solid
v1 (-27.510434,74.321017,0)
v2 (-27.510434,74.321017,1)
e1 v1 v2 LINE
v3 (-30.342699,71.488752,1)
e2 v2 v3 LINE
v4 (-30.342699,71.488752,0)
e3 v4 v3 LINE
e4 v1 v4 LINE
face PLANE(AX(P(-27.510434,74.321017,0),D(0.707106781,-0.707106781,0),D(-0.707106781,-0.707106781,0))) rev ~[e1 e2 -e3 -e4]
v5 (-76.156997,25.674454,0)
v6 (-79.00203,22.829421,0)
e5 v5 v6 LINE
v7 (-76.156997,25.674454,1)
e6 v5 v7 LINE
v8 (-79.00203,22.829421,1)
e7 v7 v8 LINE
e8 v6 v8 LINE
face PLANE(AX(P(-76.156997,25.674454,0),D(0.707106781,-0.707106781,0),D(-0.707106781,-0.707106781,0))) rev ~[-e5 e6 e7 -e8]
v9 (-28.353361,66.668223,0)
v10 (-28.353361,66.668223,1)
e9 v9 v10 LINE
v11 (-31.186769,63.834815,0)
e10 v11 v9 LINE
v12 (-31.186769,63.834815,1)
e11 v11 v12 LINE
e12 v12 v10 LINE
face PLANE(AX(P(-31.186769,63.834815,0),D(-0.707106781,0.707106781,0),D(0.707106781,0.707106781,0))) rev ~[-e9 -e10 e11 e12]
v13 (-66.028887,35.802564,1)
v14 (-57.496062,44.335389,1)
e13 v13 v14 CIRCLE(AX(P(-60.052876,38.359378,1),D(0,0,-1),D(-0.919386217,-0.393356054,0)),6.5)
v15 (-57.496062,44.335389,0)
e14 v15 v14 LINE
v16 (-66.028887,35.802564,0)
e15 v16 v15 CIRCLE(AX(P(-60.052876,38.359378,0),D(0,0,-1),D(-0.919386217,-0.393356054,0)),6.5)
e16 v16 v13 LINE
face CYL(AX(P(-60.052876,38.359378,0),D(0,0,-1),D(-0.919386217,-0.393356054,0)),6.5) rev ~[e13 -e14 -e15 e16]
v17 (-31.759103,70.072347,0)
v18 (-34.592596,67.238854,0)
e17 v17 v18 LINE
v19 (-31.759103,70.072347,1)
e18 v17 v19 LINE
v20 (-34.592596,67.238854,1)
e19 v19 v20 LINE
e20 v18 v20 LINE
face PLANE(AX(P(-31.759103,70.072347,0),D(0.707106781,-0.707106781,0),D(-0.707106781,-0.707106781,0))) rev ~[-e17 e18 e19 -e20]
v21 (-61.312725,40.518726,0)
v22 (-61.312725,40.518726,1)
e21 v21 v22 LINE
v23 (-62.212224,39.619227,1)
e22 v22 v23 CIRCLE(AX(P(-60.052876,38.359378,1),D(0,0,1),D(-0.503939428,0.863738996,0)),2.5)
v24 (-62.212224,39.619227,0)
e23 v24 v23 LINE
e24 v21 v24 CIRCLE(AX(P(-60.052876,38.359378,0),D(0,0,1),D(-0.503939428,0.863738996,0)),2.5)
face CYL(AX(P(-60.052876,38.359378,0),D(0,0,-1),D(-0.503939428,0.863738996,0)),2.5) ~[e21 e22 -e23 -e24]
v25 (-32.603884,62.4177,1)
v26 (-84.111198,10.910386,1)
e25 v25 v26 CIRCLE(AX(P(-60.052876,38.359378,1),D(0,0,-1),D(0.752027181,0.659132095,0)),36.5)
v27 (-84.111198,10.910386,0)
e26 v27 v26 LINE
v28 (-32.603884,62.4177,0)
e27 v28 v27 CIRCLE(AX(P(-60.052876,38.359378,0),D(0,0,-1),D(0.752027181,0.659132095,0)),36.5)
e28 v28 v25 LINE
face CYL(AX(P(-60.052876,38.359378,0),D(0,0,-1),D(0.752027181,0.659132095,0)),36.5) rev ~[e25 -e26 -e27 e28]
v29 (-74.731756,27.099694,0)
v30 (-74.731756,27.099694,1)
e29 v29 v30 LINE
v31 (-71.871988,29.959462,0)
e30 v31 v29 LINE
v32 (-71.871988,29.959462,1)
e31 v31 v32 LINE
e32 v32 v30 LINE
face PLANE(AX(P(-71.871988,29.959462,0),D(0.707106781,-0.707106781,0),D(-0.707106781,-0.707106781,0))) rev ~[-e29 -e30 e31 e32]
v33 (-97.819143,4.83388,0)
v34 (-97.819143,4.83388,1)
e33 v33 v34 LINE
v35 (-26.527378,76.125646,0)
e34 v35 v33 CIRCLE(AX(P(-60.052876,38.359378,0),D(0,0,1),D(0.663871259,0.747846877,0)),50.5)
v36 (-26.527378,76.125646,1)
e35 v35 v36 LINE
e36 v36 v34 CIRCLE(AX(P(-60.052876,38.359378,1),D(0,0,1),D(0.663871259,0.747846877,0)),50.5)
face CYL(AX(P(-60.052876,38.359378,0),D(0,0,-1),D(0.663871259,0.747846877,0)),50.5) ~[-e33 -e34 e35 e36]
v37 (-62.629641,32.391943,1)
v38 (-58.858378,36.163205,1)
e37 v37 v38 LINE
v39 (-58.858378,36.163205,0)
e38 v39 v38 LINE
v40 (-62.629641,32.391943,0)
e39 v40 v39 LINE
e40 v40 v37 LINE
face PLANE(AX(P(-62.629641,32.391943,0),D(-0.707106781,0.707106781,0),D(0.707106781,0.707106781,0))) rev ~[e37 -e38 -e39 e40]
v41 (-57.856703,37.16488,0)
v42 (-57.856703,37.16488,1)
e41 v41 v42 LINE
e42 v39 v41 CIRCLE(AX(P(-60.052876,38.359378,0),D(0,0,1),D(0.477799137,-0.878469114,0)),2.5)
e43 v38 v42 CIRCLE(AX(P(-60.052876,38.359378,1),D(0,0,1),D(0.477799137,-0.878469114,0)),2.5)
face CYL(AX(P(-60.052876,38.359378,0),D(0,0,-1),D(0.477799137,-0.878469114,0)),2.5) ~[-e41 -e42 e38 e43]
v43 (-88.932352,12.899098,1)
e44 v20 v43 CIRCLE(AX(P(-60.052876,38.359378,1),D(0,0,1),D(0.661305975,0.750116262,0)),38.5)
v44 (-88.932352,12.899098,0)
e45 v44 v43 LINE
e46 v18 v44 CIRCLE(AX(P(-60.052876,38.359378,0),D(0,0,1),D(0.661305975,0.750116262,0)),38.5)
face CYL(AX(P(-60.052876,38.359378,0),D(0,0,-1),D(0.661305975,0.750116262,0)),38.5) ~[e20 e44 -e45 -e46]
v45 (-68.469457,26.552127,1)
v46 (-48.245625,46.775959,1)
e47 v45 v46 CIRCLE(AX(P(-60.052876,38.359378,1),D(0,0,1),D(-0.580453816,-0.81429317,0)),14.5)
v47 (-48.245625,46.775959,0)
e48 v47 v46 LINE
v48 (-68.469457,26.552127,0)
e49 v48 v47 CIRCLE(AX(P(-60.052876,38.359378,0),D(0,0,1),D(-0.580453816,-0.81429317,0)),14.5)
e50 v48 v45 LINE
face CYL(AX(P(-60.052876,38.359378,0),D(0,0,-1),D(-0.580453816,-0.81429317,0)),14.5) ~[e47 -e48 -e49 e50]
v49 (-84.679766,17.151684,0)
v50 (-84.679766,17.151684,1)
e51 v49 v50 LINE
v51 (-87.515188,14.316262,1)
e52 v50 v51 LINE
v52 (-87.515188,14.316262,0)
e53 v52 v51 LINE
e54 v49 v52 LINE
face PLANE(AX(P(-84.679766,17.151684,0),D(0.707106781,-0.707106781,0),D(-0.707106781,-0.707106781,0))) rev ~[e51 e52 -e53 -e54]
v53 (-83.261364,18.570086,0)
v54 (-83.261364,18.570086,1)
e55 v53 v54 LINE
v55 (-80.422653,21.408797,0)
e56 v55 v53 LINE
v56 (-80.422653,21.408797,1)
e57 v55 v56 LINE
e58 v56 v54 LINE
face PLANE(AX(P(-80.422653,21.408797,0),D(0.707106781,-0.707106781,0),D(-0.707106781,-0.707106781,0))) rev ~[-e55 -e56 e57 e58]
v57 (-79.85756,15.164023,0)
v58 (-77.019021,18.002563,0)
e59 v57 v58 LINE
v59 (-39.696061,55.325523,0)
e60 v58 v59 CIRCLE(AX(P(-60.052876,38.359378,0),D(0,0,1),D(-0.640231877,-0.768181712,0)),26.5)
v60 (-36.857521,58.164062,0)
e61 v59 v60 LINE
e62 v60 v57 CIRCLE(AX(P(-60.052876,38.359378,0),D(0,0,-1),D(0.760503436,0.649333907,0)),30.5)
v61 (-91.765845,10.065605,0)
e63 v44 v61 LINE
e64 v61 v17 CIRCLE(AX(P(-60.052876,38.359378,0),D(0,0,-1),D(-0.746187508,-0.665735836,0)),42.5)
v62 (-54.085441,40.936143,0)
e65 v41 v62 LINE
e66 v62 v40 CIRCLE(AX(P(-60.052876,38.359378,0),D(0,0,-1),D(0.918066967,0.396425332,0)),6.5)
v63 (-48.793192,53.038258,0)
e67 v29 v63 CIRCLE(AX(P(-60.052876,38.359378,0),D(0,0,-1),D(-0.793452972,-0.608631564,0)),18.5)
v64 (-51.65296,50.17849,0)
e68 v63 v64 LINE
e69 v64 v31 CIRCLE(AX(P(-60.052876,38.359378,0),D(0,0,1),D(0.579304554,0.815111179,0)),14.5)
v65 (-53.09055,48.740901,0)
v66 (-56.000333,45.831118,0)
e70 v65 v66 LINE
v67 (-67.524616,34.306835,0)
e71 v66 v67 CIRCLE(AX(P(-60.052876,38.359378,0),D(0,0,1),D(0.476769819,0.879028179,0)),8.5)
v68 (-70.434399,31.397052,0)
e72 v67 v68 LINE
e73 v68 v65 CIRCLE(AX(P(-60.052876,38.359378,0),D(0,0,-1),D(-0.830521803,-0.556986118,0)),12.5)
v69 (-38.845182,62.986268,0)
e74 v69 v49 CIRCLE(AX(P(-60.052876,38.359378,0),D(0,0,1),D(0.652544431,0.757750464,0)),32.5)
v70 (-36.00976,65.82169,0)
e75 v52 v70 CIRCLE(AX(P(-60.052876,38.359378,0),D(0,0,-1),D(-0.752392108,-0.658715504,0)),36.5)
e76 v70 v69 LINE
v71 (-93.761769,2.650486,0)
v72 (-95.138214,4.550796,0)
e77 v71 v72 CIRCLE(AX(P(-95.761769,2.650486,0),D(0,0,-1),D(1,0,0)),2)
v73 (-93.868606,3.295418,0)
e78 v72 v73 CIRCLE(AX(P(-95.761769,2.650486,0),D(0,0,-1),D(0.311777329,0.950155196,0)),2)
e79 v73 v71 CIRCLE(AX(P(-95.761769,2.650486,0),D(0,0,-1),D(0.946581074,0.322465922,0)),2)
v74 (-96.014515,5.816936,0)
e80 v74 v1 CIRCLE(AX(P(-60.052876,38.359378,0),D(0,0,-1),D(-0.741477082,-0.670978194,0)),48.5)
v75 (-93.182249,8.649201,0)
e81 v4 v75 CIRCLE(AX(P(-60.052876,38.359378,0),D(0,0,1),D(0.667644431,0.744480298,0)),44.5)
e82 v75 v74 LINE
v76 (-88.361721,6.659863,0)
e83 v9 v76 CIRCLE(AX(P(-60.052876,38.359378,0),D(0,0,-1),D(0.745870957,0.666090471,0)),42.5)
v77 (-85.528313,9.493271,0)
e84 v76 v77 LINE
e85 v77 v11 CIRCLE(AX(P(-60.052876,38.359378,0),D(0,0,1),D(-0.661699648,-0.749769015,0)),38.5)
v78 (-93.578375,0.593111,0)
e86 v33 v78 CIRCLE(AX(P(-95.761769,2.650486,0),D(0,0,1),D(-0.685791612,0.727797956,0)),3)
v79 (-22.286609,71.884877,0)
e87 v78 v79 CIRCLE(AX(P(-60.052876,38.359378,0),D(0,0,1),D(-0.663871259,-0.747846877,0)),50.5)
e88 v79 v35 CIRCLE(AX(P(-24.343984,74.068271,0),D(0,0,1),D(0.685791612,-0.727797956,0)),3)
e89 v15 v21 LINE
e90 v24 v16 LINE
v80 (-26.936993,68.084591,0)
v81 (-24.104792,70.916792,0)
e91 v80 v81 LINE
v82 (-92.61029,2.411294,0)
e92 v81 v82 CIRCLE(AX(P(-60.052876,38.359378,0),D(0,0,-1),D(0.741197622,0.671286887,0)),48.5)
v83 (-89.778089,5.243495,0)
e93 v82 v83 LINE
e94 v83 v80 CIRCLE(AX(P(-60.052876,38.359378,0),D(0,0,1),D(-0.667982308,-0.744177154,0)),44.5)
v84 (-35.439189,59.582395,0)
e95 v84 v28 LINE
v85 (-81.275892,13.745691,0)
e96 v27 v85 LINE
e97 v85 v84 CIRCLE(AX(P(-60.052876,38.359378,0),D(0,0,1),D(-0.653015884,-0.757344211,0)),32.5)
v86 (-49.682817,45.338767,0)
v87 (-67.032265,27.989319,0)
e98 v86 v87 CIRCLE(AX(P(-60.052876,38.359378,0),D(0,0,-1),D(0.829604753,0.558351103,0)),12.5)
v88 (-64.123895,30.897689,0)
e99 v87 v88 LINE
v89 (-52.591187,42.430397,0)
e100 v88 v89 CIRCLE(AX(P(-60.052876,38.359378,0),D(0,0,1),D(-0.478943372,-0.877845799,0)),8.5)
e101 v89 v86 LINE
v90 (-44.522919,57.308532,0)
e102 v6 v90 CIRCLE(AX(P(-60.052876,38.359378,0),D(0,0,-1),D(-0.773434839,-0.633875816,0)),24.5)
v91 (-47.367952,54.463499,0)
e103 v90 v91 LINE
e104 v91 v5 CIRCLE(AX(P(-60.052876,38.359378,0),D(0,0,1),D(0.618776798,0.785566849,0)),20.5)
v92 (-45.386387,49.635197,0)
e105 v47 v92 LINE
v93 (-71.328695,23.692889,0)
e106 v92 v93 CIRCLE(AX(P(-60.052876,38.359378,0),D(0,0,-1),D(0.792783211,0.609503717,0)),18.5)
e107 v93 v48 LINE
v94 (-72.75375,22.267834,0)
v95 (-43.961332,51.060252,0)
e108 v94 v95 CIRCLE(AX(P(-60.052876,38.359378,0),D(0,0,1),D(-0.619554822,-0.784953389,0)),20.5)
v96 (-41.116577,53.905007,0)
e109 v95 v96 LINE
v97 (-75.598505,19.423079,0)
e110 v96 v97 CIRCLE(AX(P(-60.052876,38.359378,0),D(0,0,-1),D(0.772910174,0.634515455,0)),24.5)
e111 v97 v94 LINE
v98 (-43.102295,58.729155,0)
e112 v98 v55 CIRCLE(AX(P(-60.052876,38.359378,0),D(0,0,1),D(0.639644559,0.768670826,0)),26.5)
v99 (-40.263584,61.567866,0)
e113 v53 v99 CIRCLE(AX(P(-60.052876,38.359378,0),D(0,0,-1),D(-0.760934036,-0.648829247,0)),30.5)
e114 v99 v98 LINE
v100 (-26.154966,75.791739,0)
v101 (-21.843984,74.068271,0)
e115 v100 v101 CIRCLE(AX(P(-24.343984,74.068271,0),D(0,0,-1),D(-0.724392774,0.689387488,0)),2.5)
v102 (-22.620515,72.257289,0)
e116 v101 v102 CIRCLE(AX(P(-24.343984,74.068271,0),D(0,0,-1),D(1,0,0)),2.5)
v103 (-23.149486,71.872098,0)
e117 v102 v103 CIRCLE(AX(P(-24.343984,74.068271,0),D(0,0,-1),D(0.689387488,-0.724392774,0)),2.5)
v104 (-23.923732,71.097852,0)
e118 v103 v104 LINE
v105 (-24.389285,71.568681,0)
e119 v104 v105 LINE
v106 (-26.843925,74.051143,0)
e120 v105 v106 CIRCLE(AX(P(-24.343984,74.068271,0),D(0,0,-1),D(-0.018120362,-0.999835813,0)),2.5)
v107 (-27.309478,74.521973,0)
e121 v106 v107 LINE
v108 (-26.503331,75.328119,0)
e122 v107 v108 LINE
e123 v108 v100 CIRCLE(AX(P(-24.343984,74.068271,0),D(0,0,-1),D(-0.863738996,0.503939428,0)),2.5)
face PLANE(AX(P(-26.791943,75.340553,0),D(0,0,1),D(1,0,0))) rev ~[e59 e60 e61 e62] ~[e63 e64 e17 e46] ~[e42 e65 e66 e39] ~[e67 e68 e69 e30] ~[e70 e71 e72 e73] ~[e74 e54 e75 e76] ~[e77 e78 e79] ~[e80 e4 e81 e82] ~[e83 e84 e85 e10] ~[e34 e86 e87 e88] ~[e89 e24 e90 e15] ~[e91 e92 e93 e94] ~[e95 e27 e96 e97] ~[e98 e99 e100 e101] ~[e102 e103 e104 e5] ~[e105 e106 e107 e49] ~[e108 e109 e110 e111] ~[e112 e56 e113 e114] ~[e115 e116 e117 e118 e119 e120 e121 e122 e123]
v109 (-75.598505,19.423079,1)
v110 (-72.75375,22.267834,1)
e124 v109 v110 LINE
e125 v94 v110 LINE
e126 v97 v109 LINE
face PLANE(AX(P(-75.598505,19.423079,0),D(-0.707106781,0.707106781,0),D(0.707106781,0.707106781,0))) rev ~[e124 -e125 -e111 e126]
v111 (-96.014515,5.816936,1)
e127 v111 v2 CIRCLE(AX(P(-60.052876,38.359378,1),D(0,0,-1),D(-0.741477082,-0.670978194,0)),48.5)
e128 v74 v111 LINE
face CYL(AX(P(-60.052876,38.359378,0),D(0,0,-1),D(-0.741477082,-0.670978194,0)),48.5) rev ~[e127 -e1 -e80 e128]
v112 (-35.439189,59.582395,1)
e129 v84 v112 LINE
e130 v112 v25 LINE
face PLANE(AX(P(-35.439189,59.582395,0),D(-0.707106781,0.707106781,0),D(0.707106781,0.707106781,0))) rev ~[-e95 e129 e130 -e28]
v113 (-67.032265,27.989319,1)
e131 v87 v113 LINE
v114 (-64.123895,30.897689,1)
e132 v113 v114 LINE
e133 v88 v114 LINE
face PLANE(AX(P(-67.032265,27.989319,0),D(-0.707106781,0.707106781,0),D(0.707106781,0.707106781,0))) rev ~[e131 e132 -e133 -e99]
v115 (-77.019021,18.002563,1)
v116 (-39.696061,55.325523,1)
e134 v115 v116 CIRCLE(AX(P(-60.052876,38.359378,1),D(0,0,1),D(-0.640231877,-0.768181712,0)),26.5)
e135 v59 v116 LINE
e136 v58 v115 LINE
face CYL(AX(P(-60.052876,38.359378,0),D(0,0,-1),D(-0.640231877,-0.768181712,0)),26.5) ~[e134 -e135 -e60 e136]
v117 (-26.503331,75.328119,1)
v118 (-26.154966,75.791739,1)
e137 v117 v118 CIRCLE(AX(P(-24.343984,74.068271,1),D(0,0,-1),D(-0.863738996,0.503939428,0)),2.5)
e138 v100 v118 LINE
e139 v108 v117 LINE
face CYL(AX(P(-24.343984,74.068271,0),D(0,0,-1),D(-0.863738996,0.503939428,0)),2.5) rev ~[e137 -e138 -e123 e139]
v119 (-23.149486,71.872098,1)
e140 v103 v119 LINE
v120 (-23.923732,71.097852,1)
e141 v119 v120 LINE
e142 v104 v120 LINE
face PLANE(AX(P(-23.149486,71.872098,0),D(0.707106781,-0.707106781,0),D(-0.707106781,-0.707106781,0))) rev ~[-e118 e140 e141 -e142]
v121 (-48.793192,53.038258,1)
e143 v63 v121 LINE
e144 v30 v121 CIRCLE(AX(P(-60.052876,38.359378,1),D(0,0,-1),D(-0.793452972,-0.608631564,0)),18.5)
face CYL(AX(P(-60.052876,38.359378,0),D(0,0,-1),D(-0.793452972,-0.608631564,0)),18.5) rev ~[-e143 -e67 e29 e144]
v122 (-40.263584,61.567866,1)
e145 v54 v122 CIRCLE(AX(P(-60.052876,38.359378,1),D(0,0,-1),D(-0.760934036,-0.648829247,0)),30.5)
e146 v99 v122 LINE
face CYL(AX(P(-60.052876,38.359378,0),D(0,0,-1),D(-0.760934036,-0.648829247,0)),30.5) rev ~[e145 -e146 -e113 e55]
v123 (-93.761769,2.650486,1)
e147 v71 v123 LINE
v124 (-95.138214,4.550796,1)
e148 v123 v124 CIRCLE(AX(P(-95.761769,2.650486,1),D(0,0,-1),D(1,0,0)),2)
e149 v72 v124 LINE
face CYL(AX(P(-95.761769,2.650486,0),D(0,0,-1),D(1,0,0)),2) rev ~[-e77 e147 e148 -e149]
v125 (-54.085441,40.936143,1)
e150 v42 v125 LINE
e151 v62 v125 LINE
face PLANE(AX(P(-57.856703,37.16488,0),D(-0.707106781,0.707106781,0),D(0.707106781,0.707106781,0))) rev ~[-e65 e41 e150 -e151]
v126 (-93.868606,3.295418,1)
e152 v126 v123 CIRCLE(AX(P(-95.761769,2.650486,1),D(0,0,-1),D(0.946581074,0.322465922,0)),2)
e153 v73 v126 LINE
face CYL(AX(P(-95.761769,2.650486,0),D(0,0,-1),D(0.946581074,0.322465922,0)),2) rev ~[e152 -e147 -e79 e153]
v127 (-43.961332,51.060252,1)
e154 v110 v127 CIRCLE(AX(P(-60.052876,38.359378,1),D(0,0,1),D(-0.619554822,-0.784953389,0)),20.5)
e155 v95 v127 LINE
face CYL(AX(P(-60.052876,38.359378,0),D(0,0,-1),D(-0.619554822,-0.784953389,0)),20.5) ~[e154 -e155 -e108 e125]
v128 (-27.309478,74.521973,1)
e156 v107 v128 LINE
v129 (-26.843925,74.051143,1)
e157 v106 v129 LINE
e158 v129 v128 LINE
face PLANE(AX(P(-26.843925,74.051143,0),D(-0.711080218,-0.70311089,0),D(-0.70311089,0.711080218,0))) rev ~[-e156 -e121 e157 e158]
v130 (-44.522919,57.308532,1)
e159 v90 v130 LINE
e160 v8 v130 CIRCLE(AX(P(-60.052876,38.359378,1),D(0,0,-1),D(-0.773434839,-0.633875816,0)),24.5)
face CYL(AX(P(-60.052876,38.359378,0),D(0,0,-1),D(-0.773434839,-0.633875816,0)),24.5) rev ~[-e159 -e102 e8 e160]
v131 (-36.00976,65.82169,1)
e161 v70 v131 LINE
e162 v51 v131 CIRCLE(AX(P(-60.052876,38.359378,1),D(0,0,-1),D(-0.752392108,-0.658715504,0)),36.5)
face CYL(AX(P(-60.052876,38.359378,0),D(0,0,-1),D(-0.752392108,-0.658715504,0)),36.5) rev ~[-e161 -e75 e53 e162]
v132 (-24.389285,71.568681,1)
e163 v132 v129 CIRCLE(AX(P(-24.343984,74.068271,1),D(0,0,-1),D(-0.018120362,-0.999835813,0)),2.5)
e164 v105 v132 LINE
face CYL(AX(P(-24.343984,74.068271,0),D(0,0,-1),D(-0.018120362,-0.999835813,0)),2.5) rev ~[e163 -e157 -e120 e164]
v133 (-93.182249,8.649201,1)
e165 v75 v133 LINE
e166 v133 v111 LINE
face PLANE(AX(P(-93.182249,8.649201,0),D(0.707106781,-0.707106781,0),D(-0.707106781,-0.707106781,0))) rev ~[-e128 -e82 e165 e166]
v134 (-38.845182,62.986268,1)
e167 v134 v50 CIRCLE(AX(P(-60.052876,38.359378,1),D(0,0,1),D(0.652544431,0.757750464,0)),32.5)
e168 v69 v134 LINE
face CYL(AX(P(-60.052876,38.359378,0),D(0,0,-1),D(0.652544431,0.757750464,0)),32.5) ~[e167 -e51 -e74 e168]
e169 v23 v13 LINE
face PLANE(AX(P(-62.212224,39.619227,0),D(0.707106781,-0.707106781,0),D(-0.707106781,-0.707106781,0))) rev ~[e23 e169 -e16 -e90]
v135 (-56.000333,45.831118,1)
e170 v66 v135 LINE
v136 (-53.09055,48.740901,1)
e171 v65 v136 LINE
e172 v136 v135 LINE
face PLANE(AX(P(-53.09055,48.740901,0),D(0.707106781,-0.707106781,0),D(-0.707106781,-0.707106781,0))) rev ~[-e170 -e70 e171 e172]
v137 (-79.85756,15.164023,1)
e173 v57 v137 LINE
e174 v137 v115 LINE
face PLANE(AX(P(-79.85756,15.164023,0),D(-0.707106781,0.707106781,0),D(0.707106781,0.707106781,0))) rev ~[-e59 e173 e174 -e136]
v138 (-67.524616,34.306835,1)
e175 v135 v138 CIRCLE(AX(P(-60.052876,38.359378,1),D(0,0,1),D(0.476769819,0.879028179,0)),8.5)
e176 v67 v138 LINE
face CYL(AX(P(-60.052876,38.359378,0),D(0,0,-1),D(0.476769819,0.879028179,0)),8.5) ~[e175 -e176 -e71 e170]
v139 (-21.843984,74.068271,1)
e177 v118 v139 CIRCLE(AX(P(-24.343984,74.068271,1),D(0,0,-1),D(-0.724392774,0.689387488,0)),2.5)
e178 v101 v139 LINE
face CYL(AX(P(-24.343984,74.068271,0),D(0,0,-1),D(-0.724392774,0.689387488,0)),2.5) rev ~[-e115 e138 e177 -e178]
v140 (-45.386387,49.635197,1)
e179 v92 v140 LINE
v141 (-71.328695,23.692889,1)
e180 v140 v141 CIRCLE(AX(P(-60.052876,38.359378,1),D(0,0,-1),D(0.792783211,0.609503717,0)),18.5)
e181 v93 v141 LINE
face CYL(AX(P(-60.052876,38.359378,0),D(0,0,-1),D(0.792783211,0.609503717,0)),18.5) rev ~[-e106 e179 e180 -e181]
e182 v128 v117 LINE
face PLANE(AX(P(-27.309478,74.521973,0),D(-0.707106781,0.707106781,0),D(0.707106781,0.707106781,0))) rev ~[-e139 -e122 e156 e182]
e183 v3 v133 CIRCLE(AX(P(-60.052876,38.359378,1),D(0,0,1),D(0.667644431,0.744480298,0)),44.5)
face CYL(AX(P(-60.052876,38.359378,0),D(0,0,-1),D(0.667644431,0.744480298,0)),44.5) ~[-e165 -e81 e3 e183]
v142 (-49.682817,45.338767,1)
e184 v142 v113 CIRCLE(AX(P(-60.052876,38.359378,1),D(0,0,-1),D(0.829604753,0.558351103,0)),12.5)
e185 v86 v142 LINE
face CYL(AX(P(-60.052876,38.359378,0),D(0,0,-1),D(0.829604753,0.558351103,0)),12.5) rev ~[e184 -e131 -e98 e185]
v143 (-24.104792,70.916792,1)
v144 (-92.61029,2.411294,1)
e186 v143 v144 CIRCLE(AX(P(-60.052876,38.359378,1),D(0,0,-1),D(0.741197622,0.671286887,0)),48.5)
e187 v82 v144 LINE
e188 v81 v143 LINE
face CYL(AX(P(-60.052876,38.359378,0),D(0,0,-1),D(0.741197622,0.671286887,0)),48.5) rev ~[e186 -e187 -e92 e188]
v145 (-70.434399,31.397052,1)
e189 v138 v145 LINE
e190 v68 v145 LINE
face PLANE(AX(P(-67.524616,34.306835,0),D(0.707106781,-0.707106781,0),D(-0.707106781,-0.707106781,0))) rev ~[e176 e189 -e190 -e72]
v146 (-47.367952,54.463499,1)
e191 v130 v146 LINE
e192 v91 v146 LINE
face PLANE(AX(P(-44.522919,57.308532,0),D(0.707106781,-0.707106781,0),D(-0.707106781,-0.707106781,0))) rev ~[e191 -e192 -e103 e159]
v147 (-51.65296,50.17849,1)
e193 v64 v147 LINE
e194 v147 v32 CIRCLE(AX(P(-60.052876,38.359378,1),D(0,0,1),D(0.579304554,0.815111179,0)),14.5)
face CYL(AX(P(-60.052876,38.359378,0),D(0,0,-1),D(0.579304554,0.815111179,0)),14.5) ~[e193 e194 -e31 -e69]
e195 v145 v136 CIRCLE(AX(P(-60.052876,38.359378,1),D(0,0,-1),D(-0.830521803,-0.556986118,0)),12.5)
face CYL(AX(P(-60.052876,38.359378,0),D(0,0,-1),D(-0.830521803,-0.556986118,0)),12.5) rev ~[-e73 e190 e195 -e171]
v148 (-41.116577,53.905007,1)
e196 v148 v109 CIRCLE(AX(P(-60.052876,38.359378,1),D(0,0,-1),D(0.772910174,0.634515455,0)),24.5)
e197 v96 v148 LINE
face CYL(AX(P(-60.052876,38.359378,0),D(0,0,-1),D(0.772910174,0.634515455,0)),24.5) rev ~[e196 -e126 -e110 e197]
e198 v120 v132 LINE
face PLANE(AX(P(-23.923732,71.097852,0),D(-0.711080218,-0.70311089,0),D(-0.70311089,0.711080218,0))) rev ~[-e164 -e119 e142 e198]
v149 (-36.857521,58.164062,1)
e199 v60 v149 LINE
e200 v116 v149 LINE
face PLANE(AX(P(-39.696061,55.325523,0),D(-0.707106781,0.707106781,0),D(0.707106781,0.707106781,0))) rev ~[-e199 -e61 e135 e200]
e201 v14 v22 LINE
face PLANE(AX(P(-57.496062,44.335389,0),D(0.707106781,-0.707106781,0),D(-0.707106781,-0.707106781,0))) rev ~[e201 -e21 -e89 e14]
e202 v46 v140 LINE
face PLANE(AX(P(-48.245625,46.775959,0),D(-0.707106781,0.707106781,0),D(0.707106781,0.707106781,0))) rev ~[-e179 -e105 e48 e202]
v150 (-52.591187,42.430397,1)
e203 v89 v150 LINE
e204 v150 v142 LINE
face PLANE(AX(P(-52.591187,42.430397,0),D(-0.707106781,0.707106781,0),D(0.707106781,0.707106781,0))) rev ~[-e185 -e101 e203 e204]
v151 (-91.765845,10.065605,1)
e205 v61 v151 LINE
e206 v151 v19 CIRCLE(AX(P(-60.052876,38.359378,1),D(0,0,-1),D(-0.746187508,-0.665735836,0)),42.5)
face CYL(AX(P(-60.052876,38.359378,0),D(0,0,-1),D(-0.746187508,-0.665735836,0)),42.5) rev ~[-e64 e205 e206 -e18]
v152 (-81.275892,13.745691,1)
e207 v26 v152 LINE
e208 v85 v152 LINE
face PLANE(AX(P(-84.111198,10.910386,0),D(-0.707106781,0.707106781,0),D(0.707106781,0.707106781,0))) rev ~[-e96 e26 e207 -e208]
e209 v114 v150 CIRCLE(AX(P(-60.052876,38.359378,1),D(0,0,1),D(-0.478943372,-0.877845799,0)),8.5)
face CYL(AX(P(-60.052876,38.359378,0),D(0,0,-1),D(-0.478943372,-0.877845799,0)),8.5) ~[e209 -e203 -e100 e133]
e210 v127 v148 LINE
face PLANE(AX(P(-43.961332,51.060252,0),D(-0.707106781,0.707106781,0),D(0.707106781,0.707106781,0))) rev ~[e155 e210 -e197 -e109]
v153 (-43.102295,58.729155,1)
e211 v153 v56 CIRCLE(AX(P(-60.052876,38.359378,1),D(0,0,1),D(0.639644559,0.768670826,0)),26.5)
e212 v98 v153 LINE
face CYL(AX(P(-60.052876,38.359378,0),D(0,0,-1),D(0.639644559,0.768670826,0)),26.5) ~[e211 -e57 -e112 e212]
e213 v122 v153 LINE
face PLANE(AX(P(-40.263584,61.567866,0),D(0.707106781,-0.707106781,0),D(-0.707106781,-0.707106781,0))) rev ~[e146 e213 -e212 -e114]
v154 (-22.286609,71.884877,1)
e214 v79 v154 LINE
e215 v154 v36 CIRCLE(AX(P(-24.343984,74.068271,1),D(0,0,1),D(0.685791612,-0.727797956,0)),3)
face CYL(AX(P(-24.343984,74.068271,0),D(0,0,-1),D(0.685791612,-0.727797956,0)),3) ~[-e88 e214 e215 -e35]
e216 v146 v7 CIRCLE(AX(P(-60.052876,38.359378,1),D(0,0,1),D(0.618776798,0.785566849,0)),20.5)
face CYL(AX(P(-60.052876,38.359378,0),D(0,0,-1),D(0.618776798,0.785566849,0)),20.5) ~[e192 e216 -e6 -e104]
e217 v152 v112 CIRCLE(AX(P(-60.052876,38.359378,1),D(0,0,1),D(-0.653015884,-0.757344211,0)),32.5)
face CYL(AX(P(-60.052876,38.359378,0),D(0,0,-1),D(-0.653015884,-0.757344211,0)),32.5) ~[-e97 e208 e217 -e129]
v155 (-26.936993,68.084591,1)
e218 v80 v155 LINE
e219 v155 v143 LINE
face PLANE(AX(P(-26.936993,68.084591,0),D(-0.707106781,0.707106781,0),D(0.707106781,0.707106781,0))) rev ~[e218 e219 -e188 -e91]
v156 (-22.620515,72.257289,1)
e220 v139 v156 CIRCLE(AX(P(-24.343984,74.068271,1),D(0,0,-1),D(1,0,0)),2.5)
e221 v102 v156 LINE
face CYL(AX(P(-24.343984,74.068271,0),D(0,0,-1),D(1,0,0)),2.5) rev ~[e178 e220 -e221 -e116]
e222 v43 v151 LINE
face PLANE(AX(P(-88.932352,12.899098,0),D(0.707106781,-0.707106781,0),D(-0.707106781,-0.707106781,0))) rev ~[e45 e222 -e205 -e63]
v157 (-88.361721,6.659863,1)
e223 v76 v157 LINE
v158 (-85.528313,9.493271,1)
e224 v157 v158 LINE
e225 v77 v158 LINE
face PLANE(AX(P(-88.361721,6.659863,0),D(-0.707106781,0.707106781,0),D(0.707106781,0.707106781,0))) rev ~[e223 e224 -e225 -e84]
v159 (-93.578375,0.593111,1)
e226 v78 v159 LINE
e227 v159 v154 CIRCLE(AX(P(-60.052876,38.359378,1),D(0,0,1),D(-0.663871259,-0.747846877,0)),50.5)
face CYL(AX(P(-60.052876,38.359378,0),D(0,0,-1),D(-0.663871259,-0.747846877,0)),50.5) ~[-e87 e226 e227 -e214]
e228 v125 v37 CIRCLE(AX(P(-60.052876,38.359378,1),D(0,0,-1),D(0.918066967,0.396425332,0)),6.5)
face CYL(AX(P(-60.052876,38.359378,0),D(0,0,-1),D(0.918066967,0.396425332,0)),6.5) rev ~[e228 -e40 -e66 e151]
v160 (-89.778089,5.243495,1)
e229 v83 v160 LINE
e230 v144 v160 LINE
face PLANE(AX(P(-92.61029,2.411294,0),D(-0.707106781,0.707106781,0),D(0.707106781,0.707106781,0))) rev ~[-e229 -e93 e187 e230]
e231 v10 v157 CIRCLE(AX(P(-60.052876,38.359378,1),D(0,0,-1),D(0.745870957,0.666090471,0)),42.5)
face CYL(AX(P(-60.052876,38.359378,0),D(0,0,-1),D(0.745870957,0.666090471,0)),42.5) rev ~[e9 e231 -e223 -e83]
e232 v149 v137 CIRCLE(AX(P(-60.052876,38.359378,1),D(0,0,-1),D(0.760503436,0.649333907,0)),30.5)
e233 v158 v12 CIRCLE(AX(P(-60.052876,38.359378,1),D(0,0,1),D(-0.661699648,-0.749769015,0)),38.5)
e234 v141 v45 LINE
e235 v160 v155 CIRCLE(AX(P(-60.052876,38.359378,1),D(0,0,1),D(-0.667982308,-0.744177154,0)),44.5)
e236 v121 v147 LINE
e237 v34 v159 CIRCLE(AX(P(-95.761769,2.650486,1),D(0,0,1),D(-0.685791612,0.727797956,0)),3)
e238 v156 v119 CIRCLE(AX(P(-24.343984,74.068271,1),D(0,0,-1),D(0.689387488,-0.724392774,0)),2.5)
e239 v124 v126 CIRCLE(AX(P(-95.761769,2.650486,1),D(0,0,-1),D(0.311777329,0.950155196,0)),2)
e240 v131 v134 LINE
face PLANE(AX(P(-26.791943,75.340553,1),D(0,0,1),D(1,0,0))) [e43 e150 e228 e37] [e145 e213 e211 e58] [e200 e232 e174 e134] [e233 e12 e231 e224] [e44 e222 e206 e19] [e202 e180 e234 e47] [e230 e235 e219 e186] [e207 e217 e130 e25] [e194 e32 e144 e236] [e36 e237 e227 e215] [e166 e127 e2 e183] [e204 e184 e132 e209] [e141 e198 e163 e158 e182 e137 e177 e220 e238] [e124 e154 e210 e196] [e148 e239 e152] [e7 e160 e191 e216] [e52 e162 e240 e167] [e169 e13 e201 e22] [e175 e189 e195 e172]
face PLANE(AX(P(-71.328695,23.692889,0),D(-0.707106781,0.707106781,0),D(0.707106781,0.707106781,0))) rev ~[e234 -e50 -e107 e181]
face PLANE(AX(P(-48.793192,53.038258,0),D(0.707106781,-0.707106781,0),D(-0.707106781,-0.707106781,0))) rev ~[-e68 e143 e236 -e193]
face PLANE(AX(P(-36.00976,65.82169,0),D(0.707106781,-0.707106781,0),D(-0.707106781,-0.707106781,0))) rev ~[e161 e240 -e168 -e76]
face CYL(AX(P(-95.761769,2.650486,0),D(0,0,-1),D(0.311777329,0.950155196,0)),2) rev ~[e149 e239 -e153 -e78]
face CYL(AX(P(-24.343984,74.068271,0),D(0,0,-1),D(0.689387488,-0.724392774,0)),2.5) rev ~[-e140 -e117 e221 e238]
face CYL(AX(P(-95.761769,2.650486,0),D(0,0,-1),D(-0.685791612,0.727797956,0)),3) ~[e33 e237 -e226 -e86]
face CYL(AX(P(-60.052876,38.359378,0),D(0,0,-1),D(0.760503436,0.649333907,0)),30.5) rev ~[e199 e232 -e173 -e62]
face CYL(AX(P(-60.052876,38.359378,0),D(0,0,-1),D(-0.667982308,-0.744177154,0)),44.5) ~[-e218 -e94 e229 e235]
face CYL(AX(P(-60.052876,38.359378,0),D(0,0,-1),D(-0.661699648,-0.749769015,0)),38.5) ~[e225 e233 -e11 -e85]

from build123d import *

# Parameters (mm, degrees)
F1_DEPTH = 1


with BuildPart() as f1:
    # F0 (on Top) → F1 (new body)
    with BuildSketch(Plane.XY):
        with BuildLine():
            ThreePointArc((-26.5033312148, 75.328119297), (-26.3426369832, 75.5700647059), (-26.1549656601, 75.7917394482))
            ThreePointArc((-26.1549656601, 75.7917394482), (-26.3407582213, 75.9591535849), (-26.5273775919, 76.1256455652))
            ThreePointArc((-26.5273775919, 76.1256455652), (-27.0404078404, 75.3832980995), (-27.3094776802, 74.5219728315))
            Line((-27.3094776802, 74.5219728315), (-26.5033312148, 75.328119297))
        make_face()
        with BuildLine():
            ThreePointArc((-26.5273775919, 76.1256455652), (-26.3407582213, 75.9591535849), (-26.1549656601, 75.7917394482))
            ThreePointArc((-26.1549656601, 75.7917394482), (-23.4159359992, 76.3896339956), (-21.8439837245, 74.0682707282))
            ThreePointArc((-21.8439837245, 74.0682707282), (-22.0463031767, 73.08304786), (-22.6205150045, 72.2572887926))
            ThreePointArc((-22.6205150045, 72.2572887926), (-22.4531008678, 72.0714962314), (-22.2866088875, 71.8848768608))
            ThreePointArc((-22.2866088875, 71.8848768608), (-22.222663381, 76.1895910717), (-26.5273775919, 76.1256455652))
        make_face()
        with BuildLine():
            ThreePointArc((-27.3094776802, 74.5219728315), (-27.0404078404, 75.3832980995), (-26.5273775919, 76.1256455652))
            ThreePointArc((-26.5273775919, 76.1256455652), (-95.7617686244, 74.0682707282), (-97.8191434614, 4.8338796957))
            ThreePointArc((-97.8191434614, 4.8338796957), (-97.0767959956, 5.3469099442), (-96.2154707277, 5.6159797841))
            Line((-96.2154707277, 5.6159797841), (-95.1382139669, 4.5507962212))
            ThreePointArc((-95.1382139669, 4.5507962212), (-94.3555468442, 4.0726462641), (-93.8686064767, 3.2954176717))
            Line((-93.8686064767, 3.2954176717), (-92.7913497158, 2.2302341088))
            ThreePointArc((-92.7913497158, 2.2302341088), (-93.0579769242, 1.3506741334), (-93.578374757, 0.5931109913))
            ThreePointArc((-93.578374757, 0.5931109913), (-24.3439837245, 2.6504858283), (-22.2866088875, 71.8848768608))
            ThreePointArc((-22.2866088875, 71.8848768608), (-23.0441720296, 71.3644790281), (-23.923732005, 71.0978518196))
            Line((-23.923732005, 71.0978518196), (-24.3892846301, 71.5686811963))
            ThreePointArc((-24.3892846301, 71.5686811963), (-26.1216842692, 72.310493503), (-26.8439250551, 74.0511434549))
            Line((-26.8439250551, 74.0511434549), (-27.3094776802, 74.5219728315))
        make_face()
        with BuildLine():
            Line((-26.9369928357, 68.0845909889), (-24.1047915084, 70.9167923162))
            ThreePointArc((-24.1047915084, 70.9167923162), (-25.7581972869, 4.0646993907), (-92.6102902124, 2.4112936122))
            Line((-92.6102902124, 2.4112936122), (-89.7780888851, 5.2434949395))
            ThreePointArc((-89.7780888851, 5.2434949395), (-28.5866244116, 6.8931265155), (-26.9369928357, 68.0845909889))
        make_face(mode=Mode.SUBTRACT)
        with BuildLine():
            Line((-31.1867690978, 63.8348147268), (-28.3533605154, 66.6682233092))
            ThreePointArc((-28.3533605154, 66.6682233092), (-30.000837974, 8.3073400778), (-88.3617212054, 6.6598626192))
            Line((-88.3617212054, 6.6598626192), (-85.528312623, 9.4932712016))
            ThreePointArc((-85.528312623, 9.4932712016), (-32.8292650988, 11.1357672026), (-31.1867690978, 63.8348147268))
        make_face(mode=Mode.SUBTRACT)
        with BuildLine():
            Line((-35.4391893016, 59.582394523), (-32.6038840682, 62.4176997565))
            ThreePointArc((-32.6038840682, 62.4176997565), (-34.2434786611, 12.5499807649), (-84.1111976526, 10.910386172))
            Line((-84.1111976526, 10.910386172), (-81.2758924192, 13.7456914054))
            ThreePointArc((-81.2758924192, 13.7456914054), (-37.0719057859, 15.3784078897), (-35.4391893016, 59.582394523))
        make_face(mode=Mode.SUBTRACT)
        with BuildLine():
            Line((-39.6960607966, 55.325523028), (-36.857521368, 58.1640624566))
            ThreePointArc((-36.857521368, 58.1640624566), (-38.4861193483, 16.7926214521), (-79.8575603528, 15.1640234718))
            Line((-79.8575603528, 15.1640234718), (-77.0190209242, 18.0025629004))
            ThreePointArc((-77.0190209242, 18.0025629004), (-41.314546473, 19.6210485768), (-39.6960607966, 55.325523028))
        make_face(mode=Mode.SUBTRACT)
        with BuildLine():
            Line((-43.9613317006, 51.060252124), (-41.1165769032, 53.9050069214))
            ThreePointArc((-41.1165769032, 53.9050069214), (-42.7287600354, 21.0352621392), (-75.5985048176, 19.423079007))
            Line((-75.5985048176, 19.423079007), (-72.7537500202, 22.2678338044))
            ThreePointArc((-72.7537500202, 22.2678338044), (-45.5571871601, 23.8636892639), (-43.9613317006, 51.060252124))
        make_face(mode=Mode.SUBTRACT)
        with BuildLine():
            Line((-48.2456252074, 46.7759586172), (-45.3863867802, 49.6351970444))
            ThreePointArc((-45.3863867802, 49.6351970444), (-46.9714007225, 25.2779028263), (-71.3286949406, 23.692888884))
            Line((-71.3286949406, 23.692888884), (-68.4694565134, 26.5521273112))
            ThreePointArc((-68.4694565134, 26.5521273112), (-49.7998278472, 28.1063299511), (-48.2456252074, 46.7759586172))
        make_face(mode=Mode.SUBTRACT)
        with BuildLine():
            Line((-52.5911868847, 42.4303969399), (-49.6828167626, 45.338767062))
            ThreePointArc((-49.6828167626, 45.338767062), (-51.2140414096, 29.5205435134), (-67.0322649582, 27.9893188664))
            Line((-67.0322649582, 27.9893188664), (-64.1238948361, 30.8976889885))
            ThreePointArc((-64.1238948361, 30.8976889885), (-54.0424685344, 32.3489706382), (-52.5911868847, 42.4303969399))
        make_face(mode=Mode.SUBTRACT)
        with BuildLine():
            Line((-62.6296408327, 32.391942992), (-58.858378332, 36.1632054926))
            ThreePointArc((-58.858378332, 36.1632054926), (-58.2851092215, 36.5916113253), (-57.8567033888, 37.1648804358))
            Line((-57.8567033888, 37.1648804358), (-54.0854408881, 40.9361429365))
            ThreePointArc((-54.0854408881, 40.9361429365), (-55.4566820967, 33.7631842005), (-62.6296408327, 32.391942992))
        make_face(mode=Mode.SUBTRACT)
        with BuildLine():
            ThreePointArc((-66.0288865818, 35.80256393), (-64.6490702522, 42.955572356), (-57.4960618262, 44.3353886856))
            Line((-57.4960618262, 44.3353886856), (-61.3127247433, 40.5187257685))
            ThreePointArc((-61.3127247433, 40.5187257685), (-61.8206431274, 40.1271452312), (-62.2122236647, 39.6192268471))
            Line((-62.2122236647, 39.6192268471), (-66.0288865818, 35.80256393))
        make_face(mode=Mode.SUBTRACT)
        with BuildLine():
            Line((-53.0905497015, 48.7409008103), (-56.0003327117, 45.8311178001))
            ThreePointArc((-56.0003327117, 45.8311178001), (-66.0632838145, 44.3697859183), (-67.5246156963, 34.3068348155))
            Line((-67.5246156963, 34.3068348155), (-70.4343987065, 31.3970518053))
            ThreePointArc((-70.4343987065, 31.3970518053), (-68.8917109393, 47.1982130431), (-53.0905497015, 48.7409008103))
        make_face(mode=Mode.SUBTRACT)
        with BuildLine():
            Line((-48.7931922432, 53.0382582685), (-51.6529601416, 50.1784903702))
            ThreePointArc((-51.6529601416, 50.1784903702), (-70.3059245017, 48.6124266055), (-71.8719882664, 29.9594622454))
            Line((-71.8719882664, 29.9594622454), (-74.7317561647, 27.099694347))
            ThreePointArc((-74.7317561647, 27.099694347), (-73.1343516264, 51.4408537302), (-48.7931922432, 53.0382582685))
        make_face(mode=Mode.SUBTRACT)
        with BuildLine():
            Line((-44.5229186825, 57.3085318293), (-47.367951823, 54.4634986888))
            ThreePointArc((-47.367951823, 54.4634986888), (-74.5485651888, 52.8550672926), (-76.156996585, 25.6744539268))
            Line((-76.156996585, 25.6744539268), (-79.0020297254, 22.8294207863))
            ThreePointArc((-79.0020297254, 22.8294207863), (-77.3769923135, 55.6834944173), (-44.5229186825, 57.3085318293))
        make_face(mode=Mode.SUBTRACT)
        with BuildLine():
            Line((-40.2635841262, 61.5678663856), (-43.1022953576, 58.7291551541))
            ThreePointArc((-43.1022953576, 58.7291551541), (-78.7912058759, 57.0977079797), (-80.4226530503, 21.4087974615))
            Line((-80.4226530503, 21.4087974615), (-83.2613642818, 18.57008623))
            ThreePointArc((-83.2613642818, 18.57008623), (-81.6196330006, 59.9261351044), (-40.2635841262, 61.5678663856))
        make_face(mode=Mode.SUBTRACT)
        with BuildLine():
            Line((-36.0097602775, 65.8216902342), (-38.8451821611, 62.9862683506))
            ThreePointArc((-38.8451821611, 62.9862683506), (-83.033846563, 61.3403486668), (-84.6797662468, 17.1516842649))
            Line((-84.6797662468, 17.1516842649), (-87.5151881304, 14.3162623813))
            ThreePointArc((-87.5151881304, 14.3162623813), (-85.8622736878, 64.1687757916), (-36.0097602775, 65.8216902342))
        make_face(mode=Mode.SUBTRACT)
        with BuildLine():
            Line((-31.7591031504, 70.0723473614), (-34.5925961296, 67.2388543822))
            ThreePointArc((-34.5925961296, 67.2388543822), (-87.2764872501, 65.5829893539), (-88.9323522784, 12.8990982334))
            Line((-88.9323522784, 12.8990982334), (-91.7658452575, 10.0656052542))
            ThreePointArc((-91.7658452575, 10.0656052542), (-90.1049143749, 68.4114164787), (-31.7591031504, 70.0723473614))
        make_face(mode=Mode.SUBTRACT)
        with BuildLine():
            Line((-27.51043376, 74.3210167518), (-30.3426989887, 71.4887515231))
            ThreePointArc((-30.3426989887, 71.4887515231), (-91.5191279373, 69.8256300411), (-93.1822494192, 8.6492010925))
            Line((-93.1822494192, 8.6492010925), (-96.014514648, 5.8169358638))
            ThreePointArc((-96.014514648, 5.8169358638), (-94.347555062, 72.6540571658), (-27.51043376, 74.3210167518))
        make_face(mode=Mode.SUBTRACT)
        with BuildLine():
            ThreePointArc((-96.2154707277, 5.6159797841), (-97.0767959956, 5.3469099442), (-97.8191434614, 4.8338796957))
            ThreePointArc((-97.8191434614, 4.8338796957), (-97.6254044752, 4.6168958993), (-97.4304188403, 4.4010316715))
            Line((-97.4304188403, 4.4010316715), (-96.2154707277, 5.6159797841))
        make_face()
        with BuildLine():
            ThreePointArc((-97.4304188403, 4.4010316715), (-97.6254044752, 4.6168958993), (-97.8191434614, 4.8338796957))
            ThreePointArc((-97.8191434614, 4.8338796957), (-97.8830889679, 0.5291654848), (-93.578374757, 0.5931109913))
            ThreePointArc((-93.578374757, 0.5931109913), (-93.8028699625, 0.7935970497), (-94.0261662639, 0.9954175607))
            Line((-94.0261662639, 0.9954175607), (-92.7913497158, 2.2302341088))
            Line((-92.7913497158, 2.2302341088), (-93.8686064767, 3.2954176717))
            ThreePointArc((-93.8686064767, 3.2954176717), (-93.7886588586, 2.9773464291), (-93.7617686244, 2.6504858283))
            ThreePointArc((-93.7617686244, 2.6504858283), (-97.3815076952, 1.4772657541), (-95.1382139669, 4.5507962212))
            Line((-95.1382139669, 4.5507962212), (-96.2154707277, 5.6159797841))
            Line((-96.2154707277, 5.6159797841), (-97.4304188403, 4.4010316715))
        make_face()
        with BuildLine():
            ThreePointArc((-23.923732005, 71.0978518196), (-23.0441720296, 71.3644790281), (-22.2866088875, 71.8848768608))
            ThreePointArc((-22.2866088875, 71.8848768608), (-22.4531008678, 72.0714962314), (-22.6205150045, 72.2572887926))
            ThreePointArc((-22.6205150045, 72.2572887926), (-22.8723434109, 72.04731185), (-23.1494858821, 71.8720979426))
            Line((-23.1494858821, 71.8720979426), (-23.923732005, 71.0978518196))
        make_face()
        with BuildLine():
            ThreePointArc((-94.0261662639, 0.9954175607), (-93.8028699625, 0.7935970497), (-93.578374757, 0.5931109913))
            ThreePointArc((-93.578374757, 0.5931109913), (-93.0579769242, 1.3506741334), (-92.7913497158, 2.2302341088))
            Line((-92.7913497158, 2.2302341088), (-94.0261662639, 0.9954175607))
        make_face()
    extrude(amount=F1_DEPTH)


solid = f1.part
